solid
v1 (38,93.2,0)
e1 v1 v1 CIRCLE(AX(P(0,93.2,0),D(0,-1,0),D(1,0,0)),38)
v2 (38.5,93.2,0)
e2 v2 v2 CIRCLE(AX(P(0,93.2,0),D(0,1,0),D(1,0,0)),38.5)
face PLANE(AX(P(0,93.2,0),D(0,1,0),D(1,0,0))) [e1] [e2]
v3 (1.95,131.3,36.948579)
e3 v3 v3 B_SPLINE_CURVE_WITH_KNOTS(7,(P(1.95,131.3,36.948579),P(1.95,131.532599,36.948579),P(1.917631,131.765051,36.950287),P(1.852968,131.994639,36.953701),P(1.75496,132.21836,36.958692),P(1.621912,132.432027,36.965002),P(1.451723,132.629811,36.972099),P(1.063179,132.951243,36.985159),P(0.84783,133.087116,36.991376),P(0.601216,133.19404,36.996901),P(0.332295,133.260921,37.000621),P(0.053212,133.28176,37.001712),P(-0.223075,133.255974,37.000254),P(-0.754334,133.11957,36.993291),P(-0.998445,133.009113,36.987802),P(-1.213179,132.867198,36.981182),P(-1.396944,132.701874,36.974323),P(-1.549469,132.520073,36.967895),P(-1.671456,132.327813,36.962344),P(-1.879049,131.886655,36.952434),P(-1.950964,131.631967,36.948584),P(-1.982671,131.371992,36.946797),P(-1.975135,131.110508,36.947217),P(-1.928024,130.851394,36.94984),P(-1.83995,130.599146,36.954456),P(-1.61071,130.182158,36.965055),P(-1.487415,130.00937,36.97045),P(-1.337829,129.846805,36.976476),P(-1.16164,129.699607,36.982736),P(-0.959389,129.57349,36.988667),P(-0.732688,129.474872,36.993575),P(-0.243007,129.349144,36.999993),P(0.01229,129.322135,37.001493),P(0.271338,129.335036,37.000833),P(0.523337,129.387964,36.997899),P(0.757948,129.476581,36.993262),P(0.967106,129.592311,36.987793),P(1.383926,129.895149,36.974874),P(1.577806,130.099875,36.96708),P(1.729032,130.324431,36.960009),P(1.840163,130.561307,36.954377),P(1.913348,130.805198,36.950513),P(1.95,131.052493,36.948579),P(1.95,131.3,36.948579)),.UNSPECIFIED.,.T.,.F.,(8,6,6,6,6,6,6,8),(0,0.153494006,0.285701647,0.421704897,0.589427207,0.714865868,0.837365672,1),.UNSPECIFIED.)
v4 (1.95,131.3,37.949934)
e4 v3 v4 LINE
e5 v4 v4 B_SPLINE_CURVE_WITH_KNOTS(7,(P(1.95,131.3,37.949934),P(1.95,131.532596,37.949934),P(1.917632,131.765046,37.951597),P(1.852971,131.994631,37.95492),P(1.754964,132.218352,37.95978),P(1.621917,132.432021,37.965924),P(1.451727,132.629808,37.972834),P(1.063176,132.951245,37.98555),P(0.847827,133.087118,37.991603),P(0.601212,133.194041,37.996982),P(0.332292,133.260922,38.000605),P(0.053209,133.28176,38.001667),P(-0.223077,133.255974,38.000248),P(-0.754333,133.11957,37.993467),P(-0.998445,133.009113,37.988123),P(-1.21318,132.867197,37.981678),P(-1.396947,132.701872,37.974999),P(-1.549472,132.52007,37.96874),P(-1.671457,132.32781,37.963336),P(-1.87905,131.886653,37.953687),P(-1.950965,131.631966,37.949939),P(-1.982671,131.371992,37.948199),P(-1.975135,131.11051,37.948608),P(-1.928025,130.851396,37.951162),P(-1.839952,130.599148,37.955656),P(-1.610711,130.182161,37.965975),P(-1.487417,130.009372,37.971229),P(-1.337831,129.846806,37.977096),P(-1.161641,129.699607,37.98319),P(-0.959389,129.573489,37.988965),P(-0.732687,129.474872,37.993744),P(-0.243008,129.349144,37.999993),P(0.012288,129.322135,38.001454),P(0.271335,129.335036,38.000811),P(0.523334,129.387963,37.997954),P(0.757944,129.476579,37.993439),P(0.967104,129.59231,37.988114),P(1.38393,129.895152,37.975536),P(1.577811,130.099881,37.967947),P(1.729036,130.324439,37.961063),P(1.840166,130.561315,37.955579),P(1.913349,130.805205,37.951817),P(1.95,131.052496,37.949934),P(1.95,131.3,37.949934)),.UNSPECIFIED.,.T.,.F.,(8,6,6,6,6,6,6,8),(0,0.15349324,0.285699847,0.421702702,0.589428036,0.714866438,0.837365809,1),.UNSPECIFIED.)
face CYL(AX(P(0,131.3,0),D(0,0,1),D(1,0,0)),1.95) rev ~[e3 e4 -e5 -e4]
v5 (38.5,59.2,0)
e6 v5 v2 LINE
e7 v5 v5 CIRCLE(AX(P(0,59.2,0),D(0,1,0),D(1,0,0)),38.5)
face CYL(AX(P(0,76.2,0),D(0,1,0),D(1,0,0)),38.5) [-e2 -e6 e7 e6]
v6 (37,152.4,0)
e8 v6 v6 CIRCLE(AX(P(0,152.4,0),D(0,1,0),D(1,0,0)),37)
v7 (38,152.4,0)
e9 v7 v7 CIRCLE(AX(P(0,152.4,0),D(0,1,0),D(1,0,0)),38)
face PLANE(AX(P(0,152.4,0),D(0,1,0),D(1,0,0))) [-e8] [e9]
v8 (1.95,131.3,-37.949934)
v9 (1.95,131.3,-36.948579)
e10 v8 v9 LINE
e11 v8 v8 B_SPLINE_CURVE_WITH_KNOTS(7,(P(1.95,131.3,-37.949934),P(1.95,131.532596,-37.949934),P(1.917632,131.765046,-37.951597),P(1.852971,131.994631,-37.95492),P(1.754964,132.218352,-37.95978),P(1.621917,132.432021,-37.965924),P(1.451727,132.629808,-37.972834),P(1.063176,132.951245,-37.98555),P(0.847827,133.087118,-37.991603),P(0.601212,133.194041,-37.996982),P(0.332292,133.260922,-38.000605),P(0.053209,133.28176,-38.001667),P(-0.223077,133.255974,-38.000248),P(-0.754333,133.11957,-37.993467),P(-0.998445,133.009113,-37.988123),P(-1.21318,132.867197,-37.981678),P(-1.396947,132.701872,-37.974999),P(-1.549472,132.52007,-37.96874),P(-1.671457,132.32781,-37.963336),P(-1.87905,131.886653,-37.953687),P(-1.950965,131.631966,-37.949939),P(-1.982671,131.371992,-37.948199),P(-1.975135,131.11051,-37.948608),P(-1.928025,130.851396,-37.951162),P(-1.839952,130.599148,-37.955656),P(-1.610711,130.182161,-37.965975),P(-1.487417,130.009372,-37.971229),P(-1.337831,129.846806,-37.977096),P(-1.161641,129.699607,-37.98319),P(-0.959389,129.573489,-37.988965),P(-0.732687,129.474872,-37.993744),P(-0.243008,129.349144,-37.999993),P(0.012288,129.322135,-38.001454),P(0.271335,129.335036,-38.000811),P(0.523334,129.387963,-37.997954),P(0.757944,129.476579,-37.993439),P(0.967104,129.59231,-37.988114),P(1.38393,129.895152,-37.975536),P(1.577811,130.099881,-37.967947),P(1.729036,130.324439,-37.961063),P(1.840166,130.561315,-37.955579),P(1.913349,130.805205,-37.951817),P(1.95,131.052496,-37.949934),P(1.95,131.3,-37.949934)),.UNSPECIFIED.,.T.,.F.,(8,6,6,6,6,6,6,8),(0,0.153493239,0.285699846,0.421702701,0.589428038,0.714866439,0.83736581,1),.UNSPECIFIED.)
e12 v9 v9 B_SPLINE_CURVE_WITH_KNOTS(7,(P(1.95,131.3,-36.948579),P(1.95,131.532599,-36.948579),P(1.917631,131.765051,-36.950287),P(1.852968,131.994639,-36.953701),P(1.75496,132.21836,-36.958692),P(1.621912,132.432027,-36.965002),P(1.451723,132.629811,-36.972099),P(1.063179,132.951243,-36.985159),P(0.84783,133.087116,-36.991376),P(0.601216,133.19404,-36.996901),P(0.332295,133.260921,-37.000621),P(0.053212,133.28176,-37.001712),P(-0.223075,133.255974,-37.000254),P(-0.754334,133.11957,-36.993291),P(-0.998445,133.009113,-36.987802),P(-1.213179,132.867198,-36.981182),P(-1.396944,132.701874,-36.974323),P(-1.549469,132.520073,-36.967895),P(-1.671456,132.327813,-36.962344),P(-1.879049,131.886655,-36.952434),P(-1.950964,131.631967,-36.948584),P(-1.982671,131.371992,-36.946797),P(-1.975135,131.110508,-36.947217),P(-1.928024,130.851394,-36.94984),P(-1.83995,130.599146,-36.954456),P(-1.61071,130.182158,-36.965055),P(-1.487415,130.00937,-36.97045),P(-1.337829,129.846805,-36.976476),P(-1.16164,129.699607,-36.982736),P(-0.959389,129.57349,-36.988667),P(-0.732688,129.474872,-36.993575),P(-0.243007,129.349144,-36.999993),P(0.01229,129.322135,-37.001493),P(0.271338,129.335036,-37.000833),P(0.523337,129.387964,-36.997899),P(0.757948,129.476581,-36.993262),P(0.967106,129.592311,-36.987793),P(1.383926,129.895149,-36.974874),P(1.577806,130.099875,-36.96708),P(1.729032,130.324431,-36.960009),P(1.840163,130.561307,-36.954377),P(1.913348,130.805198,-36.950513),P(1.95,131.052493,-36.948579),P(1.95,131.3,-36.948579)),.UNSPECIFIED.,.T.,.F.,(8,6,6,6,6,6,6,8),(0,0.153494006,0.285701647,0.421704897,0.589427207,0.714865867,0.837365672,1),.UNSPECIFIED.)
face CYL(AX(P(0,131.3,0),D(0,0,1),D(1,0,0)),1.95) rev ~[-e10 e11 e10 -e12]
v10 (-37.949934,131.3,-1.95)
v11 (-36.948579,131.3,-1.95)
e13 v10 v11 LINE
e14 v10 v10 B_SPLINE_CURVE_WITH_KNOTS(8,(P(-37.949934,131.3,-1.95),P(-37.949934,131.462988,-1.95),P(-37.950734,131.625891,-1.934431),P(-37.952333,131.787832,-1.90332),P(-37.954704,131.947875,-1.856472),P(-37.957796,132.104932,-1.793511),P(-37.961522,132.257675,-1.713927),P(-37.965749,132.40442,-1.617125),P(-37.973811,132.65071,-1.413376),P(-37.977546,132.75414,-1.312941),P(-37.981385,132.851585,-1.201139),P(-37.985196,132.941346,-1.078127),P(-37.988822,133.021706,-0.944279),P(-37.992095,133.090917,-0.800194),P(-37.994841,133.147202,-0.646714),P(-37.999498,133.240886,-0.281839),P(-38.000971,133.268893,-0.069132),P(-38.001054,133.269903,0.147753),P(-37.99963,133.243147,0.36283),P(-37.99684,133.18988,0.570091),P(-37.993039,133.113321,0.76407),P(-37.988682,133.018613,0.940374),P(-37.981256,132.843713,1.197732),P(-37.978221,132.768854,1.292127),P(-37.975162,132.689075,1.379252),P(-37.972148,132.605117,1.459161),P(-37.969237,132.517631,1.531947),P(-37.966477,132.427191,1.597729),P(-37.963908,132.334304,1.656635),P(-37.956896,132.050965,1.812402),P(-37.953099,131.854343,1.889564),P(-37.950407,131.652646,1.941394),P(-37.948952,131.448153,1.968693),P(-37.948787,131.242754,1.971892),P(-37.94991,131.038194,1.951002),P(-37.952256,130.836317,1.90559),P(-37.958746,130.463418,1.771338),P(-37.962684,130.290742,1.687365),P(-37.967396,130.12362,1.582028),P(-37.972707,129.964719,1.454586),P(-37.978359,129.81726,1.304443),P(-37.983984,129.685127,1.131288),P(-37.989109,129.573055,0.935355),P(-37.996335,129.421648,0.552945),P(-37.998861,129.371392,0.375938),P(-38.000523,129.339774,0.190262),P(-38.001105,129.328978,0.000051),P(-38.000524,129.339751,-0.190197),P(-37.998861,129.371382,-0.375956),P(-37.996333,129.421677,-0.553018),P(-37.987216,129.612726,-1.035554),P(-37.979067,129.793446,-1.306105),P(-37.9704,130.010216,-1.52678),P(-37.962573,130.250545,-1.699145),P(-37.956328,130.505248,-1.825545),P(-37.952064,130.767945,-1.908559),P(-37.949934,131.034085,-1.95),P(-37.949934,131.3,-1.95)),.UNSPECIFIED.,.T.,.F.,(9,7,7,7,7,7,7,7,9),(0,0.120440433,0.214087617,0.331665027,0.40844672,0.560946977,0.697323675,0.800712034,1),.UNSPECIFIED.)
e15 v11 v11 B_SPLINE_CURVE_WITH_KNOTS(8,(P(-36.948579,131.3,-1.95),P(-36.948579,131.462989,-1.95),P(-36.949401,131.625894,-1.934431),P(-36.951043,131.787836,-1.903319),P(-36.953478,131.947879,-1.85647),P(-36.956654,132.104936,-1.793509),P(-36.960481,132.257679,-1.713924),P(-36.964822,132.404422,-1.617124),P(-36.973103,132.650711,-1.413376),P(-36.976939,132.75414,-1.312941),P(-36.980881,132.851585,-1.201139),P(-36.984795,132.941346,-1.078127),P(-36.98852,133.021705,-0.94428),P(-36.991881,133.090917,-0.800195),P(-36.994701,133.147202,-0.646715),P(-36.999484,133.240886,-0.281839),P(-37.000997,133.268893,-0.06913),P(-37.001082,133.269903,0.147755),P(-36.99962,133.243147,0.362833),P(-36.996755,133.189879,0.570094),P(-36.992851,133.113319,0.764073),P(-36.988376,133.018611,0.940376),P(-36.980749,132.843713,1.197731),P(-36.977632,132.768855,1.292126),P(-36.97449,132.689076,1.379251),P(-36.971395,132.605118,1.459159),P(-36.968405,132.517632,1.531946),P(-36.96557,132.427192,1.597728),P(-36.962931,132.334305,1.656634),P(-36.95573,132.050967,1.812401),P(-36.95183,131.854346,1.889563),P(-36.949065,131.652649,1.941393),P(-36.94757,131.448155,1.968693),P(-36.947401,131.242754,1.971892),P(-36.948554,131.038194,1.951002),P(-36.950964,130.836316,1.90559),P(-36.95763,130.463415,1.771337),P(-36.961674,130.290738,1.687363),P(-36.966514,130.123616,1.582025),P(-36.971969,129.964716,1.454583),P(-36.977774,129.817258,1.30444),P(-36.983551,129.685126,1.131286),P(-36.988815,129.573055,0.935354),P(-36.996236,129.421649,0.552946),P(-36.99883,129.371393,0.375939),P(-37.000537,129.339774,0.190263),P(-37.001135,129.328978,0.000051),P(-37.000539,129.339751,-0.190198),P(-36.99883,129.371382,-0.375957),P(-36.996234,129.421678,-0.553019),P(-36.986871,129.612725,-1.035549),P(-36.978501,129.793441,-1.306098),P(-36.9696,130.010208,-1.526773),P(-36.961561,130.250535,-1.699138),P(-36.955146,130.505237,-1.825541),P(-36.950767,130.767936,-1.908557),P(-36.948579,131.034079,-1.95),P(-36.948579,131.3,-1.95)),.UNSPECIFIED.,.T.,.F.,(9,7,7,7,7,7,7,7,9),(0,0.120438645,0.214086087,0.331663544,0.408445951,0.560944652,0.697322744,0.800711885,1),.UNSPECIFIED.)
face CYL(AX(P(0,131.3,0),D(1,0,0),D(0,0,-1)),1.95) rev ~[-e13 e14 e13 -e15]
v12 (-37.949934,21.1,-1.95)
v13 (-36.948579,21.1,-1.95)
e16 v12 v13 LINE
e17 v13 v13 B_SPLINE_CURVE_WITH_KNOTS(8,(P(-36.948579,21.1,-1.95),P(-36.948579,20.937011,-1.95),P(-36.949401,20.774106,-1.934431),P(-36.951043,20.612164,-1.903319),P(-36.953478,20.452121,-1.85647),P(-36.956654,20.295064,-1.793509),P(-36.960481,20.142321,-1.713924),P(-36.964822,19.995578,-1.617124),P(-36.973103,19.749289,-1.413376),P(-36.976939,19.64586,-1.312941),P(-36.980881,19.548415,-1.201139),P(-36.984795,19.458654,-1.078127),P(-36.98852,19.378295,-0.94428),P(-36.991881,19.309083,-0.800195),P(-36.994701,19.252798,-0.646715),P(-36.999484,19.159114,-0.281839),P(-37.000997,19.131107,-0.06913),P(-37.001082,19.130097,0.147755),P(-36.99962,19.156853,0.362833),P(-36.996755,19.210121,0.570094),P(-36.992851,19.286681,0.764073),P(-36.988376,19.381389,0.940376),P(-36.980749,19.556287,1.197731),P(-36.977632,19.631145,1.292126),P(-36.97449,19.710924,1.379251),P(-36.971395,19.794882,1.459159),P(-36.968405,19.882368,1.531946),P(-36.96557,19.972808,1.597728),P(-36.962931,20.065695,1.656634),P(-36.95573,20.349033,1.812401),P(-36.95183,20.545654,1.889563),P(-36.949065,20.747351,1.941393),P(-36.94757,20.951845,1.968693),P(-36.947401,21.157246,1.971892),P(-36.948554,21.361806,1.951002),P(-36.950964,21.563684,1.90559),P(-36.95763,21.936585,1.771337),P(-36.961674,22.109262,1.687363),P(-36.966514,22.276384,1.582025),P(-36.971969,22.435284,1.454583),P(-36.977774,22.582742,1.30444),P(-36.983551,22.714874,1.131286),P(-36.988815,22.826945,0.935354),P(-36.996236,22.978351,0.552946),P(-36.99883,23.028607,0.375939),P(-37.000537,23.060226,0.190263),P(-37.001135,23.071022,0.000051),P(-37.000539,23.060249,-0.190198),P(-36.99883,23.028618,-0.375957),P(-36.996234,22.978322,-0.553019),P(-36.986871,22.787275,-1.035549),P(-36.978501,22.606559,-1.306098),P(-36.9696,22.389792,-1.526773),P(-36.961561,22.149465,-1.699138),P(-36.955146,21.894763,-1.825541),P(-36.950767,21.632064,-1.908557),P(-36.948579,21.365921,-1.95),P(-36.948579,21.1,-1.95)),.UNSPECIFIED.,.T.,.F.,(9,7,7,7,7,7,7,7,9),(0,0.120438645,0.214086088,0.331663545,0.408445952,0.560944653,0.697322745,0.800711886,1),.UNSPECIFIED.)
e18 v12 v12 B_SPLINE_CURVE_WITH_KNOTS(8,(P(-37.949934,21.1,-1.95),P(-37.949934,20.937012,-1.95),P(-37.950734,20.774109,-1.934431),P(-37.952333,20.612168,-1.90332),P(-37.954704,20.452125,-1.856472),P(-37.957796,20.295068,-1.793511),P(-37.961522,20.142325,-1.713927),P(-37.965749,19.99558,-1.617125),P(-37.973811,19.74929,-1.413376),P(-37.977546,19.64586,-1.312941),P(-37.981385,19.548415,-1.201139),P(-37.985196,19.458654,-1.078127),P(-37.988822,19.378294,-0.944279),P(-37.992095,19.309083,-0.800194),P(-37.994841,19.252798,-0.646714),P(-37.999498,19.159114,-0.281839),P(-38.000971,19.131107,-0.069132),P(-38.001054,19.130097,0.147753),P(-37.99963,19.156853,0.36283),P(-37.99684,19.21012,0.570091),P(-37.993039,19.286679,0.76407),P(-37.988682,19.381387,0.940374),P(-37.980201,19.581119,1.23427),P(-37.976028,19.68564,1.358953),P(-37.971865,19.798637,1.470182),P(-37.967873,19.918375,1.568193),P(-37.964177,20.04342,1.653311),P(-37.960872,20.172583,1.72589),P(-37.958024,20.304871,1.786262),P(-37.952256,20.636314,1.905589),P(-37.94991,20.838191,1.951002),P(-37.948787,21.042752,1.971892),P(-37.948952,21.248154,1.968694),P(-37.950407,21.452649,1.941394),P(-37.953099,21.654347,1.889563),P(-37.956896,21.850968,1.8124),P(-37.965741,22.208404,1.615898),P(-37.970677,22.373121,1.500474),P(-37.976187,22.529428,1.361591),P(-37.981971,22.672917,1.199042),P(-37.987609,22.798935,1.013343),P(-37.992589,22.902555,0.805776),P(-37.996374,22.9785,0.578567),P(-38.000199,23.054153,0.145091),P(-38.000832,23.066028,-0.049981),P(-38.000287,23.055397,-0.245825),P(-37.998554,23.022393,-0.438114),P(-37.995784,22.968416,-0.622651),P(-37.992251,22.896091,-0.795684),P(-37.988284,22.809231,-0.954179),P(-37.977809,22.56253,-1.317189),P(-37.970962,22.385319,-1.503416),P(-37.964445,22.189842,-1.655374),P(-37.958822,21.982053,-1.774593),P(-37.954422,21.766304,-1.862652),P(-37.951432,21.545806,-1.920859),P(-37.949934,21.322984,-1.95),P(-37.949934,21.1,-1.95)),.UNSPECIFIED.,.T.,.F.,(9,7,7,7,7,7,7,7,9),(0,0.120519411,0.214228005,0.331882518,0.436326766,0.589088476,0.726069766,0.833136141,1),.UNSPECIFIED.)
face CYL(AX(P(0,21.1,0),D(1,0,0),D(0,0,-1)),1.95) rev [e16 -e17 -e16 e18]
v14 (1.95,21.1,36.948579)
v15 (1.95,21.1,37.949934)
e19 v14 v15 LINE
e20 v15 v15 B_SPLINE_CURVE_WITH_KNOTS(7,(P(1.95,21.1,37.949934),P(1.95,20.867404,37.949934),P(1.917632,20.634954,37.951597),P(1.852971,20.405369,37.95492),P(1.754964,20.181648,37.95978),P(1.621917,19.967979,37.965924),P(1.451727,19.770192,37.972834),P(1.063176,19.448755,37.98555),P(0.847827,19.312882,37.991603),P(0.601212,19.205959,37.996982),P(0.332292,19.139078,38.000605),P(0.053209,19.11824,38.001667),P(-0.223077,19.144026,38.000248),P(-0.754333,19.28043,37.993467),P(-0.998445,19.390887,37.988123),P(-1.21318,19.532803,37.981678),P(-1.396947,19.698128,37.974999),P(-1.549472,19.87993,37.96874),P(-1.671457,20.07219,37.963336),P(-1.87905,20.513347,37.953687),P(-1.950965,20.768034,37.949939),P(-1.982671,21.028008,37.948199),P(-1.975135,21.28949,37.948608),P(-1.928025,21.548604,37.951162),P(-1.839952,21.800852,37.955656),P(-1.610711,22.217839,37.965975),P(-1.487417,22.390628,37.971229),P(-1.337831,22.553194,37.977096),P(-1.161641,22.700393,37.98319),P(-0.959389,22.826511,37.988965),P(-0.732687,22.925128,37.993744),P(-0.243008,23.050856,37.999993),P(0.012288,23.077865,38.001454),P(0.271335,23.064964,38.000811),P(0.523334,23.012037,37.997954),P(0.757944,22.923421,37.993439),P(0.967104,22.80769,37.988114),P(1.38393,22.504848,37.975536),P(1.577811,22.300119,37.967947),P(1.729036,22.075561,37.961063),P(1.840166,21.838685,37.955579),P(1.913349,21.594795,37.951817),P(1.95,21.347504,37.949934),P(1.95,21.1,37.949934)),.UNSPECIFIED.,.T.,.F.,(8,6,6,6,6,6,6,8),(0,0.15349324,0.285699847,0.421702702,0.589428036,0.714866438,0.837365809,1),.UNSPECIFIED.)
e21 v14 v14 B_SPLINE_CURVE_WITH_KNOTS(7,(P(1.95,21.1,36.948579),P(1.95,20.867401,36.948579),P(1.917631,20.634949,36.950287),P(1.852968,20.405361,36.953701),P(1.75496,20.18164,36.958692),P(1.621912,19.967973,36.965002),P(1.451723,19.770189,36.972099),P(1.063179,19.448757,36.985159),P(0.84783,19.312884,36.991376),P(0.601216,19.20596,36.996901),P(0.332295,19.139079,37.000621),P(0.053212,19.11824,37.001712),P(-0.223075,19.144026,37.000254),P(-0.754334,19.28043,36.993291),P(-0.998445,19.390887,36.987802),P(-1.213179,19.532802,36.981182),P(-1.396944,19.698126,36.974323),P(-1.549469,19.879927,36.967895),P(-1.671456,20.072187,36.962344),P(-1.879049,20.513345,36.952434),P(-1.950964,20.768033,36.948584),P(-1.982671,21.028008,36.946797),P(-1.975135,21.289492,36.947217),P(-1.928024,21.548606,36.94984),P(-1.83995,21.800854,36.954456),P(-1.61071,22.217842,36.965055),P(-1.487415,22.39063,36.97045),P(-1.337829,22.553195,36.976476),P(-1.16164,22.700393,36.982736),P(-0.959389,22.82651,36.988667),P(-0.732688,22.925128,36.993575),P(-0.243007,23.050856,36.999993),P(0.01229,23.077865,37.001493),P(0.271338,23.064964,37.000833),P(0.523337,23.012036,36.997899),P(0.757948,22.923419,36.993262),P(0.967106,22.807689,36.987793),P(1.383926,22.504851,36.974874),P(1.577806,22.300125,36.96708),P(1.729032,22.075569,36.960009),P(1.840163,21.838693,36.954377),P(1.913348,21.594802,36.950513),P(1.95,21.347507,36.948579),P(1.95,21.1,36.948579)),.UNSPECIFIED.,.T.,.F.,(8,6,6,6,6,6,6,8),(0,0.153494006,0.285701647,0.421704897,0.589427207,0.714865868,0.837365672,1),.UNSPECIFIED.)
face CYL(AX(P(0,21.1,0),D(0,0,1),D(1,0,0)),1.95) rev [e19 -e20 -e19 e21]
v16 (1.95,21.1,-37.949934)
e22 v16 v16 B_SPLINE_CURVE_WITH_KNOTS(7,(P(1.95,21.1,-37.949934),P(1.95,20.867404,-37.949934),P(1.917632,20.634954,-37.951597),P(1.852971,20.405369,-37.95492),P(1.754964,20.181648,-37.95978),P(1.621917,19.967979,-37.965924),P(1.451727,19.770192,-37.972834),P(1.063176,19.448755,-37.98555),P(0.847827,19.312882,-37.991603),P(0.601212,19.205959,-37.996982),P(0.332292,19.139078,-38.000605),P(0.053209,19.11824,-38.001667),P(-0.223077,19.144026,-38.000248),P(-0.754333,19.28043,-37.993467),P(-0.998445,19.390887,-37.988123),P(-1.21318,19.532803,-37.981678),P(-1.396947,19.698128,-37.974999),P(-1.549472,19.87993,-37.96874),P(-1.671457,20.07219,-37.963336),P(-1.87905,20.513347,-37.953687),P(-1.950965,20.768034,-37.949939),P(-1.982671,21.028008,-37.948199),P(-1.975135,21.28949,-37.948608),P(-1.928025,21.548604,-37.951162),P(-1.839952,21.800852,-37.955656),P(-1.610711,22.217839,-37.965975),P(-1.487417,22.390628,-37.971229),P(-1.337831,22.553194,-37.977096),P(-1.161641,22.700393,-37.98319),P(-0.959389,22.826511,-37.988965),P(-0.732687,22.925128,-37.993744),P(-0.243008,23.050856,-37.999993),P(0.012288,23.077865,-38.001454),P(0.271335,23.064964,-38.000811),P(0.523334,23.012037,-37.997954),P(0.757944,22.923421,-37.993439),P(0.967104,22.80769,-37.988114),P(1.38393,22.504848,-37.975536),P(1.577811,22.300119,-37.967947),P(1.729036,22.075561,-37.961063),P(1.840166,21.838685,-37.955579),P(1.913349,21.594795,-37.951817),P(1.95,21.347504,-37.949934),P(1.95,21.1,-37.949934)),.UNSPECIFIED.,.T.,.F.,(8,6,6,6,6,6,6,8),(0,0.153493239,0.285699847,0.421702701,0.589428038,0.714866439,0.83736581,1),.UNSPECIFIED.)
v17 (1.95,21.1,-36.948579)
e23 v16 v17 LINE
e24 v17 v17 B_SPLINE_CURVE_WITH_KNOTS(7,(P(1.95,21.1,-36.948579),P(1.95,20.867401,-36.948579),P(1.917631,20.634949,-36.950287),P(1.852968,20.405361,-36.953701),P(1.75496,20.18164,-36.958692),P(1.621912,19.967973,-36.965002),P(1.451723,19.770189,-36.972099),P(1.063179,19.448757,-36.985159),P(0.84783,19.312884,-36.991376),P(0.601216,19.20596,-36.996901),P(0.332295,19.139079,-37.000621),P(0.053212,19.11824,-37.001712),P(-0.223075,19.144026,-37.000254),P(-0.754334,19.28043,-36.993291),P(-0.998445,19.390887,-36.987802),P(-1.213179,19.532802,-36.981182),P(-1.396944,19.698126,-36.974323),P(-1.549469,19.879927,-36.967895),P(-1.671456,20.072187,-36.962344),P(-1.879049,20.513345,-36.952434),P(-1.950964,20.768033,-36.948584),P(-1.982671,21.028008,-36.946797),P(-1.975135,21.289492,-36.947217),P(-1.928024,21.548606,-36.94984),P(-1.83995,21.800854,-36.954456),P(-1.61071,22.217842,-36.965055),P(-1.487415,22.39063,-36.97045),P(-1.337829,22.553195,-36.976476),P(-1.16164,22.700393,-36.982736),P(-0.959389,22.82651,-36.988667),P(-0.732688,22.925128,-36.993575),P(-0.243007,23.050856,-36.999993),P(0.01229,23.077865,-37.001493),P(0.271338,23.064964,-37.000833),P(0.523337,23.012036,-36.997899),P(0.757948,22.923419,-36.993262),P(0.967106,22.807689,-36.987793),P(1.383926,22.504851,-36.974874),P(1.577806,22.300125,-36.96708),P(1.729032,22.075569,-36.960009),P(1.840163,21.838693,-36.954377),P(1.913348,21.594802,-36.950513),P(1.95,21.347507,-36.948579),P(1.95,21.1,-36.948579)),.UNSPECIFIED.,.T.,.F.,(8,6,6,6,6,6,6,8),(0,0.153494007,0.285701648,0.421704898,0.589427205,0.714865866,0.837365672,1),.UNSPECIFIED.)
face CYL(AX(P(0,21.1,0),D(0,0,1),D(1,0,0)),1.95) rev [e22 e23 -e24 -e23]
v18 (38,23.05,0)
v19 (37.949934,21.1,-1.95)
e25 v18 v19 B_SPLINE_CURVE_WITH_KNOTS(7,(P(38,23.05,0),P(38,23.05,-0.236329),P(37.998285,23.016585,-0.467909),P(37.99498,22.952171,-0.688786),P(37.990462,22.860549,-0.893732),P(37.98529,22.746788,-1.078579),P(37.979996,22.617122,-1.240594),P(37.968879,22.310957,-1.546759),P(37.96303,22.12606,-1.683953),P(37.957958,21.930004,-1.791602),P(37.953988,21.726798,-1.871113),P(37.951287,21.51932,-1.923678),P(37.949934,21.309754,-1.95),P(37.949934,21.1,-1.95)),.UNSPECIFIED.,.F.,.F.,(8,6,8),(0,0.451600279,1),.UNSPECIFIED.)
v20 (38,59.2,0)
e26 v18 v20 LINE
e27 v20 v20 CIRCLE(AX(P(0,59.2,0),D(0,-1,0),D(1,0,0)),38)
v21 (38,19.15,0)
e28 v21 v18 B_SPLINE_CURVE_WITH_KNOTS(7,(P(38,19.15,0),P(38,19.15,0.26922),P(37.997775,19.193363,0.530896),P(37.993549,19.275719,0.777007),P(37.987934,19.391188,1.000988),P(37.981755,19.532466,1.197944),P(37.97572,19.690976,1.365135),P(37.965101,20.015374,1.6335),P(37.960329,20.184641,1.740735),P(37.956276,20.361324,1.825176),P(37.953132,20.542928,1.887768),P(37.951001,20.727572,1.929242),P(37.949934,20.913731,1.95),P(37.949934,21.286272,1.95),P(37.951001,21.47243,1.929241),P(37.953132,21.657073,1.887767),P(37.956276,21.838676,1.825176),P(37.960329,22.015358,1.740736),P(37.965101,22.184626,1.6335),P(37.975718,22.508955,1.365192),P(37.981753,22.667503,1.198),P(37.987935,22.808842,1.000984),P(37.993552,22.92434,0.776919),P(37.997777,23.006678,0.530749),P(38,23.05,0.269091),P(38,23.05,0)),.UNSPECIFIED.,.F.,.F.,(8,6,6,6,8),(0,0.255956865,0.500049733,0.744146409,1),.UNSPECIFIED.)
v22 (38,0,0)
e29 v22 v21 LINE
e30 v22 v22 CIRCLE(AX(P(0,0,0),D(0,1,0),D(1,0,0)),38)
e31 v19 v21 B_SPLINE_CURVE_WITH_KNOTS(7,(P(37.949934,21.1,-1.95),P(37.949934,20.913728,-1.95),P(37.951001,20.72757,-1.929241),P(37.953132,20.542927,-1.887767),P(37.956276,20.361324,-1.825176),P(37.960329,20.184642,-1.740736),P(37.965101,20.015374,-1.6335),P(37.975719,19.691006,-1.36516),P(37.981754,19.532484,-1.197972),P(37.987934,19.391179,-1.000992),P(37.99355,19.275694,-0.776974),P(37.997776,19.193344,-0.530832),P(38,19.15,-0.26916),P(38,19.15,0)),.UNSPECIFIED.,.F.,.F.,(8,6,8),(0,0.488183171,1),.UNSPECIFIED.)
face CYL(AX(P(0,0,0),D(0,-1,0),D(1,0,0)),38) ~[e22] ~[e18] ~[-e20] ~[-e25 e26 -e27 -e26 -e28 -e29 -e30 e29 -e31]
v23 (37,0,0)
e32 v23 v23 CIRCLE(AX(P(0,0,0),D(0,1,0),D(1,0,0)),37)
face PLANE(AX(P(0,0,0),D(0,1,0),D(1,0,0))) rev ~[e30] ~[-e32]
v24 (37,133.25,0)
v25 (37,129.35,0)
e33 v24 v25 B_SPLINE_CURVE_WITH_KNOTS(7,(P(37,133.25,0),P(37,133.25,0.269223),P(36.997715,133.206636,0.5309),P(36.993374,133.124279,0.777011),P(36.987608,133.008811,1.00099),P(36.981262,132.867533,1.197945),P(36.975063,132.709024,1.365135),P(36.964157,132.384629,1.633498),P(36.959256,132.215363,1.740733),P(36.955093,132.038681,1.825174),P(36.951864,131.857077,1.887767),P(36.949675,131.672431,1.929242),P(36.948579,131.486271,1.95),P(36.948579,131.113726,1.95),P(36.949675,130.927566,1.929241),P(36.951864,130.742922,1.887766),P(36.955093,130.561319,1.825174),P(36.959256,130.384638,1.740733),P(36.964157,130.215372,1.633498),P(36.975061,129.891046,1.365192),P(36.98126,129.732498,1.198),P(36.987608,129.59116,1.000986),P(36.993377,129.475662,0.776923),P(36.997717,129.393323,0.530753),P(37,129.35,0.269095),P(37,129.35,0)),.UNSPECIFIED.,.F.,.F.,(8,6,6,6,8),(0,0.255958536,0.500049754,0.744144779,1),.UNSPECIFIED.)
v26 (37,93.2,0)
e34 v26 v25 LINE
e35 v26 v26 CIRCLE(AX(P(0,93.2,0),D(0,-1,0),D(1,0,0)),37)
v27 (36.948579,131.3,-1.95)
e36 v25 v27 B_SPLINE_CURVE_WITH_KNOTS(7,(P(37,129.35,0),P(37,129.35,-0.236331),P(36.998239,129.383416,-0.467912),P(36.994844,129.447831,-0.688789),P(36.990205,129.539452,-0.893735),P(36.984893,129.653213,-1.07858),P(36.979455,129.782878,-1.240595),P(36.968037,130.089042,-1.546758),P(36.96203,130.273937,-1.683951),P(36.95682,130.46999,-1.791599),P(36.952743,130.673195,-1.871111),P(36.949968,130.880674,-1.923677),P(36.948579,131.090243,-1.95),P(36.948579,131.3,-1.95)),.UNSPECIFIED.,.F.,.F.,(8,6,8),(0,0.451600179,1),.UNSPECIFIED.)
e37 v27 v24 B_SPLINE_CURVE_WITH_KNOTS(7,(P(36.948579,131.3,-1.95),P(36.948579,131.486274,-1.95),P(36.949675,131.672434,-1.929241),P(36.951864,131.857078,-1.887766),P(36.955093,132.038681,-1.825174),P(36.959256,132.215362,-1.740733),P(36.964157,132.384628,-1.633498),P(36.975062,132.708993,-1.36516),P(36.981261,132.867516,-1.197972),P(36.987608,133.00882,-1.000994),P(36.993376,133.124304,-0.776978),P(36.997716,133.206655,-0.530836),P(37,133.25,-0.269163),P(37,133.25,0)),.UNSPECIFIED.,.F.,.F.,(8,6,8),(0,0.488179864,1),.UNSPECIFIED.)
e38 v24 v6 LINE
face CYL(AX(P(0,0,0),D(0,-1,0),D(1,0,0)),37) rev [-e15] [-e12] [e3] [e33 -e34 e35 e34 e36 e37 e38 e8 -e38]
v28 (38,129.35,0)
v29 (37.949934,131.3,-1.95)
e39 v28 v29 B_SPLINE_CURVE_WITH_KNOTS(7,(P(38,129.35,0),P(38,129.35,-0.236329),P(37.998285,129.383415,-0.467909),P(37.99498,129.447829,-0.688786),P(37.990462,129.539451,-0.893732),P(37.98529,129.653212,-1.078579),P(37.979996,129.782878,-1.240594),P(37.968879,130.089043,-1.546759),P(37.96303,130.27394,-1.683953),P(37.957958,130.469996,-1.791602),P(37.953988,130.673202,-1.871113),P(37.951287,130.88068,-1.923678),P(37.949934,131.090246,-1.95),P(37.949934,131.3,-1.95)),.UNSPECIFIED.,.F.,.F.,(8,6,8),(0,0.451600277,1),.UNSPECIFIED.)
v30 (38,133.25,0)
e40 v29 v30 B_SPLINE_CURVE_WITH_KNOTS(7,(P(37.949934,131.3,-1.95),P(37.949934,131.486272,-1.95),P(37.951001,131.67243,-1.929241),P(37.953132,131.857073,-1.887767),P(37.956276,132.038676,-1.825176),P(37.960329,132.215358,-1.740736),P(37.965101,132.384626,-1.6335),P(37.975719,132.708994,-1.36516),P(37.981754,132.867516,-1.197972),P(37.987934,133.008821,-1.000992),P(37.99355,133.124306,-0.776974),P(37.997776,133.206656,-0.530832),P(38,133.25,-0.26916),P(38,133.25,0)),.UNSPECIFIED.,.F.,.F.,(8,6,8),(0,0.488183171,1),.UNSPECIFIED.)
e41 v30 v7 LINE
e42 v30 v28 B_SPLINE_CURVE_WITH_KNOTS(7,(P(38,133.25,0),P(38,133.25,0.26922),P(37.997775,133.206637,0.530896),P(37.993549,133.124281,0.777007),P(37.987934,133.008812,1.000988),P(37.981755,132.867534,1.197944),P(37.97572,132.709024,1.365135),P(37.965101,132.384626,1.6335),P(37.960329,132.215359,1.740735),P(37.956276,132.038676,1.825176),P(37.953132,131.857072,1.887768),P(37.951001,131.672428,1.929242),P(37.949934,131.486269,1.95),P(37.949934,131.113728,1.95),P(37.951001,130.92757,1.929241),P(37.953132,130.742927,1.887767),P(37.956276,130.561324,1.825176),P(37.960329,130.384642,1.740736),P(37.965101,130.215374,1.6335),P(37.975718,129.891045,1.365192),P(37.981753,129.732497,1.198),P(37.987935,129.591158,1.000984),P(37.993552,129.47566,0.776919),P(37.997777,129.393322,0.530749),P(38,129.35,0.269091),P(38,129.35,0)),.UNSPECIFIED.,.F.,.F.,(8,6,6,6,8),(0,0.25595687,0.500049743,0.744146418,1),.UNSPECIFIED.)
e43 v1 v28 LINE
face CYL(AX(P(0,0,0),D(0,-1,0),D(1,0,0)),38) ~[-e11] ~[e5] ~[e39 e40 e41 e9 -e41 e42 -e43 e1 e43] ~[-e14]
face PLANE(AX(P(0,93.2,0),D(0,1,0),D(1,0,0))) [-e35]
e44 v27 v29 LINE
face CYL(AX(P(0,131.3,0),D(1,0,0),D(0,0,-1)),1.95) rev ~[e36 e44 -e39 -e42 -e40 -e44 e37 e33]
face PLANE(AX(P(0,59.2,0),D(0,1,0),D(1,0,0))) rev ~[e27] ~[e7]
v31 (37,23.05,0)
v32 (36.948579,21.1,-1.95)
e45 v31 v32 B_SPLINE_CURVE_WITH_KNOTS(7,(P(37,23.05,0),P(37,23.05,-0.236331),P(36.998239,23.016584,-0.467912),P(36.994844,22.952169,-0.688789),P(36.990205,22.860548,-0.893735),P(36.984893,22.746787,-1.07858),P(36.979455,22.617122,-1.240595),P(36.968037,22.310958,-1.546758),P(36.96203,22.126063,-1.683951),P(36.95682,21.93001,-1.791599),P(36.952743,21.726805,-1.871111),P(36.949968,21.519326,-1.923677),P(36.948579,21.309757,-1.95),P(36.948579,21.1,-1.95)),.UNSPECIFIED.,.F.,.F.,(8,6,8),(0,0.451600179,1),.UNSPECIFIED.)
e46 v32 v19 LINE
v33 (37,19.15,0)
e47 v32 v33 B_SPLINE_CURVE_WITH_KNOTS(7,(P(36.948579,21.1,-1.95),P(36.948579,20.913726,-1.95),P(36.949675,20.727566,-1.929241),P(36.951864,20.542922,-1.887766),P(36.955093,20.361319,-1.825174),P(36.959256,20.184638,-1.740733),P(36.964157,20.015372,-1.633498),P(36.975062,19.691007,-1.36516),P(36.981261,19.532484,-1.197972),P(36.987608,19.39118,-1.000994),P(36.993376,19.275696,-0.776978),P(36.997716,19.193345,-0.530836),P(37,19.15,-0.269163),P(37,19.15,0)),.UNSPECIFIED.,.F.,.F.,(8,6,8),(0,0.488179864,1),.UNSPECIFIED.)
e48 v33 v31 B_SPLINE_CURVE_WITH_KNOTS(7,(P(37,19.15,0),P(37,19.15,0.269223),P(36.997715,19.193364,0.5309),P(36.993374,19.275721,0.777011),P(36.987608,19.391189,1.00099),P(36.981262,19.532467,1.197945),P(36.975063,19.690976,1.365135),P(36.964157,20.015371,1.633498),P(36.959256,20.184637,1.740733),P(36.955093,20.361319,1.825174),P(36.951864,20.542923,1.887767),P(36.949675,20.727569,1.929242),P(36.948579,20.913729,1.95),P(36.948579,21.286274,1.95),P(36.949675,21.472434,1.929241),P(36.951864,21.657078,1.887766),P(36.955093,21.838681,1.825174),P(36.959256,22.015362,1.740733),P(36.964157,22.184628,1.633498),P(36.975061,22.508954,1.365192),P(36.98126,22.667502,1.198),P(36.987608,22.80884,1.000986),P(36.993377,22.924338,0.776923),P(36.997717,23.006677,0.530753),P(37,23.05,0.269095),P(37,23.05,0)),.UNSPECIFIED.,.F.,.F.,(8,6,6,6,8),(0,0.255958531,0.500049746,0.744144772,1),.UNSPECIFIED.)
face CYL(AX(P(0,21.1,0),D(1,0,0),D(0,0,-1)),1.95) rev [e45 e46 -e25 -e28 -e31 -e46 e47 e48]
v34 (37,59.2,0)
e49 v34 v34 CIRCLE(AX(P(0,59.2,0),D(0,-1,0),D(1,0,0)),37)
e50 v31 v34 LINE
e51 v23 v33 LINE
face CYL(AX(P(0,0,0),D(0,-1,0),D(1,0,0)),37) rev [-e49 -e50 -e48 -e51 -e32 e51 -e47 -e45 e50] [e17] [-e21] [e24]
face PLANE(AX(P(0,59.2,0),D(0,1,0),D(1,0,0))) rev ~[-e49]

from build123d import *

# Parameters (mm, degrees)
SKETCH1_R                = 38
SKETCH1_R_2              = 37
BOSS_EXTRUDE1_DEPTH      = 152.4
SKETCH2_R                = 38.5
BOSS_EXTRUDE2_DEPTH      = 17
BOSS_EXTRUDE2_DEPTH_BACK = 17
SKETCH3_R                = 1.95
CUT_EXTRUDE1_DEPTH       = 39.5
SKETCH4_R                = 1.95
CUT_EXTRUDE2_DEPTH       = 39.5


with BuildPart() as part:
    # Sketch1 → Boss-Extrude1 (new body)
    with BuildSketch(Plane(origin=(0, 0, 0), x_dir=(1, 0, 0), z_dir=(0, 1, 0))):
        Circle(SKETCH1_R)
        Circle(SKETCH1_R_2, mode=Mode.SUBTRACT)
    extrude(amount=BOSS_EXTRUDE1_DEPTH)

    # Sketch2 → Boss-Extrude2 (add, two sides)
    with BuildSketch(Plane(origin=(0, 76.2, 0), x_dir=(1, 0, 0), z_dir=(0, 1, 0))) as boss_extrude2_sk:
        Circle(SKETCH2_R)
    extrude(amount=BOSS_EXTRUDE2_DEPTH)
    extrude(boss_extrude2_sk.sketch, amount=-BOSS_EXTRUDE2_DEPTH_BACK)

    # Sketch3 → Cut-Extrude1 (cut, symmetric)
    with BuildSketch(Plane(origin=(0, 0, 0), x_dir=(0, 0, -1), z_dir=(1, 0, 0))):
        with Locations((0, 131.3)):
            Circle(SKETCH3_R)
    cut_extrude1 = extrude(amount=CUT_EXTRUDE1_DEPTH, both=True, mode=Mode.SUBTRACT)

    # Sketch4 → Cut-Extrude2 (cut, symmetric)
    with BuildSketch(Plane.XY):
        with Locations((0, 131.3)):
            Circle(SKETCH4_R)
    cut_extrude2 = extrude(amount=CUT_EXTRUDE2_DEPTH, both=True, mode=Mode.SUBTRACT)

    # Mirror1: Cut-Extrude1, Cut-Extrude2 across plane
    add(cut_extrude1.mirror(Plane.ZX.offset(76.2)), mode=Mode.SUBTRACT)
    add(cut_extrude2.mirror(Plane.ZX.offset(76.2)), mode=Mode.SUBTRACT)


solid = part.part
